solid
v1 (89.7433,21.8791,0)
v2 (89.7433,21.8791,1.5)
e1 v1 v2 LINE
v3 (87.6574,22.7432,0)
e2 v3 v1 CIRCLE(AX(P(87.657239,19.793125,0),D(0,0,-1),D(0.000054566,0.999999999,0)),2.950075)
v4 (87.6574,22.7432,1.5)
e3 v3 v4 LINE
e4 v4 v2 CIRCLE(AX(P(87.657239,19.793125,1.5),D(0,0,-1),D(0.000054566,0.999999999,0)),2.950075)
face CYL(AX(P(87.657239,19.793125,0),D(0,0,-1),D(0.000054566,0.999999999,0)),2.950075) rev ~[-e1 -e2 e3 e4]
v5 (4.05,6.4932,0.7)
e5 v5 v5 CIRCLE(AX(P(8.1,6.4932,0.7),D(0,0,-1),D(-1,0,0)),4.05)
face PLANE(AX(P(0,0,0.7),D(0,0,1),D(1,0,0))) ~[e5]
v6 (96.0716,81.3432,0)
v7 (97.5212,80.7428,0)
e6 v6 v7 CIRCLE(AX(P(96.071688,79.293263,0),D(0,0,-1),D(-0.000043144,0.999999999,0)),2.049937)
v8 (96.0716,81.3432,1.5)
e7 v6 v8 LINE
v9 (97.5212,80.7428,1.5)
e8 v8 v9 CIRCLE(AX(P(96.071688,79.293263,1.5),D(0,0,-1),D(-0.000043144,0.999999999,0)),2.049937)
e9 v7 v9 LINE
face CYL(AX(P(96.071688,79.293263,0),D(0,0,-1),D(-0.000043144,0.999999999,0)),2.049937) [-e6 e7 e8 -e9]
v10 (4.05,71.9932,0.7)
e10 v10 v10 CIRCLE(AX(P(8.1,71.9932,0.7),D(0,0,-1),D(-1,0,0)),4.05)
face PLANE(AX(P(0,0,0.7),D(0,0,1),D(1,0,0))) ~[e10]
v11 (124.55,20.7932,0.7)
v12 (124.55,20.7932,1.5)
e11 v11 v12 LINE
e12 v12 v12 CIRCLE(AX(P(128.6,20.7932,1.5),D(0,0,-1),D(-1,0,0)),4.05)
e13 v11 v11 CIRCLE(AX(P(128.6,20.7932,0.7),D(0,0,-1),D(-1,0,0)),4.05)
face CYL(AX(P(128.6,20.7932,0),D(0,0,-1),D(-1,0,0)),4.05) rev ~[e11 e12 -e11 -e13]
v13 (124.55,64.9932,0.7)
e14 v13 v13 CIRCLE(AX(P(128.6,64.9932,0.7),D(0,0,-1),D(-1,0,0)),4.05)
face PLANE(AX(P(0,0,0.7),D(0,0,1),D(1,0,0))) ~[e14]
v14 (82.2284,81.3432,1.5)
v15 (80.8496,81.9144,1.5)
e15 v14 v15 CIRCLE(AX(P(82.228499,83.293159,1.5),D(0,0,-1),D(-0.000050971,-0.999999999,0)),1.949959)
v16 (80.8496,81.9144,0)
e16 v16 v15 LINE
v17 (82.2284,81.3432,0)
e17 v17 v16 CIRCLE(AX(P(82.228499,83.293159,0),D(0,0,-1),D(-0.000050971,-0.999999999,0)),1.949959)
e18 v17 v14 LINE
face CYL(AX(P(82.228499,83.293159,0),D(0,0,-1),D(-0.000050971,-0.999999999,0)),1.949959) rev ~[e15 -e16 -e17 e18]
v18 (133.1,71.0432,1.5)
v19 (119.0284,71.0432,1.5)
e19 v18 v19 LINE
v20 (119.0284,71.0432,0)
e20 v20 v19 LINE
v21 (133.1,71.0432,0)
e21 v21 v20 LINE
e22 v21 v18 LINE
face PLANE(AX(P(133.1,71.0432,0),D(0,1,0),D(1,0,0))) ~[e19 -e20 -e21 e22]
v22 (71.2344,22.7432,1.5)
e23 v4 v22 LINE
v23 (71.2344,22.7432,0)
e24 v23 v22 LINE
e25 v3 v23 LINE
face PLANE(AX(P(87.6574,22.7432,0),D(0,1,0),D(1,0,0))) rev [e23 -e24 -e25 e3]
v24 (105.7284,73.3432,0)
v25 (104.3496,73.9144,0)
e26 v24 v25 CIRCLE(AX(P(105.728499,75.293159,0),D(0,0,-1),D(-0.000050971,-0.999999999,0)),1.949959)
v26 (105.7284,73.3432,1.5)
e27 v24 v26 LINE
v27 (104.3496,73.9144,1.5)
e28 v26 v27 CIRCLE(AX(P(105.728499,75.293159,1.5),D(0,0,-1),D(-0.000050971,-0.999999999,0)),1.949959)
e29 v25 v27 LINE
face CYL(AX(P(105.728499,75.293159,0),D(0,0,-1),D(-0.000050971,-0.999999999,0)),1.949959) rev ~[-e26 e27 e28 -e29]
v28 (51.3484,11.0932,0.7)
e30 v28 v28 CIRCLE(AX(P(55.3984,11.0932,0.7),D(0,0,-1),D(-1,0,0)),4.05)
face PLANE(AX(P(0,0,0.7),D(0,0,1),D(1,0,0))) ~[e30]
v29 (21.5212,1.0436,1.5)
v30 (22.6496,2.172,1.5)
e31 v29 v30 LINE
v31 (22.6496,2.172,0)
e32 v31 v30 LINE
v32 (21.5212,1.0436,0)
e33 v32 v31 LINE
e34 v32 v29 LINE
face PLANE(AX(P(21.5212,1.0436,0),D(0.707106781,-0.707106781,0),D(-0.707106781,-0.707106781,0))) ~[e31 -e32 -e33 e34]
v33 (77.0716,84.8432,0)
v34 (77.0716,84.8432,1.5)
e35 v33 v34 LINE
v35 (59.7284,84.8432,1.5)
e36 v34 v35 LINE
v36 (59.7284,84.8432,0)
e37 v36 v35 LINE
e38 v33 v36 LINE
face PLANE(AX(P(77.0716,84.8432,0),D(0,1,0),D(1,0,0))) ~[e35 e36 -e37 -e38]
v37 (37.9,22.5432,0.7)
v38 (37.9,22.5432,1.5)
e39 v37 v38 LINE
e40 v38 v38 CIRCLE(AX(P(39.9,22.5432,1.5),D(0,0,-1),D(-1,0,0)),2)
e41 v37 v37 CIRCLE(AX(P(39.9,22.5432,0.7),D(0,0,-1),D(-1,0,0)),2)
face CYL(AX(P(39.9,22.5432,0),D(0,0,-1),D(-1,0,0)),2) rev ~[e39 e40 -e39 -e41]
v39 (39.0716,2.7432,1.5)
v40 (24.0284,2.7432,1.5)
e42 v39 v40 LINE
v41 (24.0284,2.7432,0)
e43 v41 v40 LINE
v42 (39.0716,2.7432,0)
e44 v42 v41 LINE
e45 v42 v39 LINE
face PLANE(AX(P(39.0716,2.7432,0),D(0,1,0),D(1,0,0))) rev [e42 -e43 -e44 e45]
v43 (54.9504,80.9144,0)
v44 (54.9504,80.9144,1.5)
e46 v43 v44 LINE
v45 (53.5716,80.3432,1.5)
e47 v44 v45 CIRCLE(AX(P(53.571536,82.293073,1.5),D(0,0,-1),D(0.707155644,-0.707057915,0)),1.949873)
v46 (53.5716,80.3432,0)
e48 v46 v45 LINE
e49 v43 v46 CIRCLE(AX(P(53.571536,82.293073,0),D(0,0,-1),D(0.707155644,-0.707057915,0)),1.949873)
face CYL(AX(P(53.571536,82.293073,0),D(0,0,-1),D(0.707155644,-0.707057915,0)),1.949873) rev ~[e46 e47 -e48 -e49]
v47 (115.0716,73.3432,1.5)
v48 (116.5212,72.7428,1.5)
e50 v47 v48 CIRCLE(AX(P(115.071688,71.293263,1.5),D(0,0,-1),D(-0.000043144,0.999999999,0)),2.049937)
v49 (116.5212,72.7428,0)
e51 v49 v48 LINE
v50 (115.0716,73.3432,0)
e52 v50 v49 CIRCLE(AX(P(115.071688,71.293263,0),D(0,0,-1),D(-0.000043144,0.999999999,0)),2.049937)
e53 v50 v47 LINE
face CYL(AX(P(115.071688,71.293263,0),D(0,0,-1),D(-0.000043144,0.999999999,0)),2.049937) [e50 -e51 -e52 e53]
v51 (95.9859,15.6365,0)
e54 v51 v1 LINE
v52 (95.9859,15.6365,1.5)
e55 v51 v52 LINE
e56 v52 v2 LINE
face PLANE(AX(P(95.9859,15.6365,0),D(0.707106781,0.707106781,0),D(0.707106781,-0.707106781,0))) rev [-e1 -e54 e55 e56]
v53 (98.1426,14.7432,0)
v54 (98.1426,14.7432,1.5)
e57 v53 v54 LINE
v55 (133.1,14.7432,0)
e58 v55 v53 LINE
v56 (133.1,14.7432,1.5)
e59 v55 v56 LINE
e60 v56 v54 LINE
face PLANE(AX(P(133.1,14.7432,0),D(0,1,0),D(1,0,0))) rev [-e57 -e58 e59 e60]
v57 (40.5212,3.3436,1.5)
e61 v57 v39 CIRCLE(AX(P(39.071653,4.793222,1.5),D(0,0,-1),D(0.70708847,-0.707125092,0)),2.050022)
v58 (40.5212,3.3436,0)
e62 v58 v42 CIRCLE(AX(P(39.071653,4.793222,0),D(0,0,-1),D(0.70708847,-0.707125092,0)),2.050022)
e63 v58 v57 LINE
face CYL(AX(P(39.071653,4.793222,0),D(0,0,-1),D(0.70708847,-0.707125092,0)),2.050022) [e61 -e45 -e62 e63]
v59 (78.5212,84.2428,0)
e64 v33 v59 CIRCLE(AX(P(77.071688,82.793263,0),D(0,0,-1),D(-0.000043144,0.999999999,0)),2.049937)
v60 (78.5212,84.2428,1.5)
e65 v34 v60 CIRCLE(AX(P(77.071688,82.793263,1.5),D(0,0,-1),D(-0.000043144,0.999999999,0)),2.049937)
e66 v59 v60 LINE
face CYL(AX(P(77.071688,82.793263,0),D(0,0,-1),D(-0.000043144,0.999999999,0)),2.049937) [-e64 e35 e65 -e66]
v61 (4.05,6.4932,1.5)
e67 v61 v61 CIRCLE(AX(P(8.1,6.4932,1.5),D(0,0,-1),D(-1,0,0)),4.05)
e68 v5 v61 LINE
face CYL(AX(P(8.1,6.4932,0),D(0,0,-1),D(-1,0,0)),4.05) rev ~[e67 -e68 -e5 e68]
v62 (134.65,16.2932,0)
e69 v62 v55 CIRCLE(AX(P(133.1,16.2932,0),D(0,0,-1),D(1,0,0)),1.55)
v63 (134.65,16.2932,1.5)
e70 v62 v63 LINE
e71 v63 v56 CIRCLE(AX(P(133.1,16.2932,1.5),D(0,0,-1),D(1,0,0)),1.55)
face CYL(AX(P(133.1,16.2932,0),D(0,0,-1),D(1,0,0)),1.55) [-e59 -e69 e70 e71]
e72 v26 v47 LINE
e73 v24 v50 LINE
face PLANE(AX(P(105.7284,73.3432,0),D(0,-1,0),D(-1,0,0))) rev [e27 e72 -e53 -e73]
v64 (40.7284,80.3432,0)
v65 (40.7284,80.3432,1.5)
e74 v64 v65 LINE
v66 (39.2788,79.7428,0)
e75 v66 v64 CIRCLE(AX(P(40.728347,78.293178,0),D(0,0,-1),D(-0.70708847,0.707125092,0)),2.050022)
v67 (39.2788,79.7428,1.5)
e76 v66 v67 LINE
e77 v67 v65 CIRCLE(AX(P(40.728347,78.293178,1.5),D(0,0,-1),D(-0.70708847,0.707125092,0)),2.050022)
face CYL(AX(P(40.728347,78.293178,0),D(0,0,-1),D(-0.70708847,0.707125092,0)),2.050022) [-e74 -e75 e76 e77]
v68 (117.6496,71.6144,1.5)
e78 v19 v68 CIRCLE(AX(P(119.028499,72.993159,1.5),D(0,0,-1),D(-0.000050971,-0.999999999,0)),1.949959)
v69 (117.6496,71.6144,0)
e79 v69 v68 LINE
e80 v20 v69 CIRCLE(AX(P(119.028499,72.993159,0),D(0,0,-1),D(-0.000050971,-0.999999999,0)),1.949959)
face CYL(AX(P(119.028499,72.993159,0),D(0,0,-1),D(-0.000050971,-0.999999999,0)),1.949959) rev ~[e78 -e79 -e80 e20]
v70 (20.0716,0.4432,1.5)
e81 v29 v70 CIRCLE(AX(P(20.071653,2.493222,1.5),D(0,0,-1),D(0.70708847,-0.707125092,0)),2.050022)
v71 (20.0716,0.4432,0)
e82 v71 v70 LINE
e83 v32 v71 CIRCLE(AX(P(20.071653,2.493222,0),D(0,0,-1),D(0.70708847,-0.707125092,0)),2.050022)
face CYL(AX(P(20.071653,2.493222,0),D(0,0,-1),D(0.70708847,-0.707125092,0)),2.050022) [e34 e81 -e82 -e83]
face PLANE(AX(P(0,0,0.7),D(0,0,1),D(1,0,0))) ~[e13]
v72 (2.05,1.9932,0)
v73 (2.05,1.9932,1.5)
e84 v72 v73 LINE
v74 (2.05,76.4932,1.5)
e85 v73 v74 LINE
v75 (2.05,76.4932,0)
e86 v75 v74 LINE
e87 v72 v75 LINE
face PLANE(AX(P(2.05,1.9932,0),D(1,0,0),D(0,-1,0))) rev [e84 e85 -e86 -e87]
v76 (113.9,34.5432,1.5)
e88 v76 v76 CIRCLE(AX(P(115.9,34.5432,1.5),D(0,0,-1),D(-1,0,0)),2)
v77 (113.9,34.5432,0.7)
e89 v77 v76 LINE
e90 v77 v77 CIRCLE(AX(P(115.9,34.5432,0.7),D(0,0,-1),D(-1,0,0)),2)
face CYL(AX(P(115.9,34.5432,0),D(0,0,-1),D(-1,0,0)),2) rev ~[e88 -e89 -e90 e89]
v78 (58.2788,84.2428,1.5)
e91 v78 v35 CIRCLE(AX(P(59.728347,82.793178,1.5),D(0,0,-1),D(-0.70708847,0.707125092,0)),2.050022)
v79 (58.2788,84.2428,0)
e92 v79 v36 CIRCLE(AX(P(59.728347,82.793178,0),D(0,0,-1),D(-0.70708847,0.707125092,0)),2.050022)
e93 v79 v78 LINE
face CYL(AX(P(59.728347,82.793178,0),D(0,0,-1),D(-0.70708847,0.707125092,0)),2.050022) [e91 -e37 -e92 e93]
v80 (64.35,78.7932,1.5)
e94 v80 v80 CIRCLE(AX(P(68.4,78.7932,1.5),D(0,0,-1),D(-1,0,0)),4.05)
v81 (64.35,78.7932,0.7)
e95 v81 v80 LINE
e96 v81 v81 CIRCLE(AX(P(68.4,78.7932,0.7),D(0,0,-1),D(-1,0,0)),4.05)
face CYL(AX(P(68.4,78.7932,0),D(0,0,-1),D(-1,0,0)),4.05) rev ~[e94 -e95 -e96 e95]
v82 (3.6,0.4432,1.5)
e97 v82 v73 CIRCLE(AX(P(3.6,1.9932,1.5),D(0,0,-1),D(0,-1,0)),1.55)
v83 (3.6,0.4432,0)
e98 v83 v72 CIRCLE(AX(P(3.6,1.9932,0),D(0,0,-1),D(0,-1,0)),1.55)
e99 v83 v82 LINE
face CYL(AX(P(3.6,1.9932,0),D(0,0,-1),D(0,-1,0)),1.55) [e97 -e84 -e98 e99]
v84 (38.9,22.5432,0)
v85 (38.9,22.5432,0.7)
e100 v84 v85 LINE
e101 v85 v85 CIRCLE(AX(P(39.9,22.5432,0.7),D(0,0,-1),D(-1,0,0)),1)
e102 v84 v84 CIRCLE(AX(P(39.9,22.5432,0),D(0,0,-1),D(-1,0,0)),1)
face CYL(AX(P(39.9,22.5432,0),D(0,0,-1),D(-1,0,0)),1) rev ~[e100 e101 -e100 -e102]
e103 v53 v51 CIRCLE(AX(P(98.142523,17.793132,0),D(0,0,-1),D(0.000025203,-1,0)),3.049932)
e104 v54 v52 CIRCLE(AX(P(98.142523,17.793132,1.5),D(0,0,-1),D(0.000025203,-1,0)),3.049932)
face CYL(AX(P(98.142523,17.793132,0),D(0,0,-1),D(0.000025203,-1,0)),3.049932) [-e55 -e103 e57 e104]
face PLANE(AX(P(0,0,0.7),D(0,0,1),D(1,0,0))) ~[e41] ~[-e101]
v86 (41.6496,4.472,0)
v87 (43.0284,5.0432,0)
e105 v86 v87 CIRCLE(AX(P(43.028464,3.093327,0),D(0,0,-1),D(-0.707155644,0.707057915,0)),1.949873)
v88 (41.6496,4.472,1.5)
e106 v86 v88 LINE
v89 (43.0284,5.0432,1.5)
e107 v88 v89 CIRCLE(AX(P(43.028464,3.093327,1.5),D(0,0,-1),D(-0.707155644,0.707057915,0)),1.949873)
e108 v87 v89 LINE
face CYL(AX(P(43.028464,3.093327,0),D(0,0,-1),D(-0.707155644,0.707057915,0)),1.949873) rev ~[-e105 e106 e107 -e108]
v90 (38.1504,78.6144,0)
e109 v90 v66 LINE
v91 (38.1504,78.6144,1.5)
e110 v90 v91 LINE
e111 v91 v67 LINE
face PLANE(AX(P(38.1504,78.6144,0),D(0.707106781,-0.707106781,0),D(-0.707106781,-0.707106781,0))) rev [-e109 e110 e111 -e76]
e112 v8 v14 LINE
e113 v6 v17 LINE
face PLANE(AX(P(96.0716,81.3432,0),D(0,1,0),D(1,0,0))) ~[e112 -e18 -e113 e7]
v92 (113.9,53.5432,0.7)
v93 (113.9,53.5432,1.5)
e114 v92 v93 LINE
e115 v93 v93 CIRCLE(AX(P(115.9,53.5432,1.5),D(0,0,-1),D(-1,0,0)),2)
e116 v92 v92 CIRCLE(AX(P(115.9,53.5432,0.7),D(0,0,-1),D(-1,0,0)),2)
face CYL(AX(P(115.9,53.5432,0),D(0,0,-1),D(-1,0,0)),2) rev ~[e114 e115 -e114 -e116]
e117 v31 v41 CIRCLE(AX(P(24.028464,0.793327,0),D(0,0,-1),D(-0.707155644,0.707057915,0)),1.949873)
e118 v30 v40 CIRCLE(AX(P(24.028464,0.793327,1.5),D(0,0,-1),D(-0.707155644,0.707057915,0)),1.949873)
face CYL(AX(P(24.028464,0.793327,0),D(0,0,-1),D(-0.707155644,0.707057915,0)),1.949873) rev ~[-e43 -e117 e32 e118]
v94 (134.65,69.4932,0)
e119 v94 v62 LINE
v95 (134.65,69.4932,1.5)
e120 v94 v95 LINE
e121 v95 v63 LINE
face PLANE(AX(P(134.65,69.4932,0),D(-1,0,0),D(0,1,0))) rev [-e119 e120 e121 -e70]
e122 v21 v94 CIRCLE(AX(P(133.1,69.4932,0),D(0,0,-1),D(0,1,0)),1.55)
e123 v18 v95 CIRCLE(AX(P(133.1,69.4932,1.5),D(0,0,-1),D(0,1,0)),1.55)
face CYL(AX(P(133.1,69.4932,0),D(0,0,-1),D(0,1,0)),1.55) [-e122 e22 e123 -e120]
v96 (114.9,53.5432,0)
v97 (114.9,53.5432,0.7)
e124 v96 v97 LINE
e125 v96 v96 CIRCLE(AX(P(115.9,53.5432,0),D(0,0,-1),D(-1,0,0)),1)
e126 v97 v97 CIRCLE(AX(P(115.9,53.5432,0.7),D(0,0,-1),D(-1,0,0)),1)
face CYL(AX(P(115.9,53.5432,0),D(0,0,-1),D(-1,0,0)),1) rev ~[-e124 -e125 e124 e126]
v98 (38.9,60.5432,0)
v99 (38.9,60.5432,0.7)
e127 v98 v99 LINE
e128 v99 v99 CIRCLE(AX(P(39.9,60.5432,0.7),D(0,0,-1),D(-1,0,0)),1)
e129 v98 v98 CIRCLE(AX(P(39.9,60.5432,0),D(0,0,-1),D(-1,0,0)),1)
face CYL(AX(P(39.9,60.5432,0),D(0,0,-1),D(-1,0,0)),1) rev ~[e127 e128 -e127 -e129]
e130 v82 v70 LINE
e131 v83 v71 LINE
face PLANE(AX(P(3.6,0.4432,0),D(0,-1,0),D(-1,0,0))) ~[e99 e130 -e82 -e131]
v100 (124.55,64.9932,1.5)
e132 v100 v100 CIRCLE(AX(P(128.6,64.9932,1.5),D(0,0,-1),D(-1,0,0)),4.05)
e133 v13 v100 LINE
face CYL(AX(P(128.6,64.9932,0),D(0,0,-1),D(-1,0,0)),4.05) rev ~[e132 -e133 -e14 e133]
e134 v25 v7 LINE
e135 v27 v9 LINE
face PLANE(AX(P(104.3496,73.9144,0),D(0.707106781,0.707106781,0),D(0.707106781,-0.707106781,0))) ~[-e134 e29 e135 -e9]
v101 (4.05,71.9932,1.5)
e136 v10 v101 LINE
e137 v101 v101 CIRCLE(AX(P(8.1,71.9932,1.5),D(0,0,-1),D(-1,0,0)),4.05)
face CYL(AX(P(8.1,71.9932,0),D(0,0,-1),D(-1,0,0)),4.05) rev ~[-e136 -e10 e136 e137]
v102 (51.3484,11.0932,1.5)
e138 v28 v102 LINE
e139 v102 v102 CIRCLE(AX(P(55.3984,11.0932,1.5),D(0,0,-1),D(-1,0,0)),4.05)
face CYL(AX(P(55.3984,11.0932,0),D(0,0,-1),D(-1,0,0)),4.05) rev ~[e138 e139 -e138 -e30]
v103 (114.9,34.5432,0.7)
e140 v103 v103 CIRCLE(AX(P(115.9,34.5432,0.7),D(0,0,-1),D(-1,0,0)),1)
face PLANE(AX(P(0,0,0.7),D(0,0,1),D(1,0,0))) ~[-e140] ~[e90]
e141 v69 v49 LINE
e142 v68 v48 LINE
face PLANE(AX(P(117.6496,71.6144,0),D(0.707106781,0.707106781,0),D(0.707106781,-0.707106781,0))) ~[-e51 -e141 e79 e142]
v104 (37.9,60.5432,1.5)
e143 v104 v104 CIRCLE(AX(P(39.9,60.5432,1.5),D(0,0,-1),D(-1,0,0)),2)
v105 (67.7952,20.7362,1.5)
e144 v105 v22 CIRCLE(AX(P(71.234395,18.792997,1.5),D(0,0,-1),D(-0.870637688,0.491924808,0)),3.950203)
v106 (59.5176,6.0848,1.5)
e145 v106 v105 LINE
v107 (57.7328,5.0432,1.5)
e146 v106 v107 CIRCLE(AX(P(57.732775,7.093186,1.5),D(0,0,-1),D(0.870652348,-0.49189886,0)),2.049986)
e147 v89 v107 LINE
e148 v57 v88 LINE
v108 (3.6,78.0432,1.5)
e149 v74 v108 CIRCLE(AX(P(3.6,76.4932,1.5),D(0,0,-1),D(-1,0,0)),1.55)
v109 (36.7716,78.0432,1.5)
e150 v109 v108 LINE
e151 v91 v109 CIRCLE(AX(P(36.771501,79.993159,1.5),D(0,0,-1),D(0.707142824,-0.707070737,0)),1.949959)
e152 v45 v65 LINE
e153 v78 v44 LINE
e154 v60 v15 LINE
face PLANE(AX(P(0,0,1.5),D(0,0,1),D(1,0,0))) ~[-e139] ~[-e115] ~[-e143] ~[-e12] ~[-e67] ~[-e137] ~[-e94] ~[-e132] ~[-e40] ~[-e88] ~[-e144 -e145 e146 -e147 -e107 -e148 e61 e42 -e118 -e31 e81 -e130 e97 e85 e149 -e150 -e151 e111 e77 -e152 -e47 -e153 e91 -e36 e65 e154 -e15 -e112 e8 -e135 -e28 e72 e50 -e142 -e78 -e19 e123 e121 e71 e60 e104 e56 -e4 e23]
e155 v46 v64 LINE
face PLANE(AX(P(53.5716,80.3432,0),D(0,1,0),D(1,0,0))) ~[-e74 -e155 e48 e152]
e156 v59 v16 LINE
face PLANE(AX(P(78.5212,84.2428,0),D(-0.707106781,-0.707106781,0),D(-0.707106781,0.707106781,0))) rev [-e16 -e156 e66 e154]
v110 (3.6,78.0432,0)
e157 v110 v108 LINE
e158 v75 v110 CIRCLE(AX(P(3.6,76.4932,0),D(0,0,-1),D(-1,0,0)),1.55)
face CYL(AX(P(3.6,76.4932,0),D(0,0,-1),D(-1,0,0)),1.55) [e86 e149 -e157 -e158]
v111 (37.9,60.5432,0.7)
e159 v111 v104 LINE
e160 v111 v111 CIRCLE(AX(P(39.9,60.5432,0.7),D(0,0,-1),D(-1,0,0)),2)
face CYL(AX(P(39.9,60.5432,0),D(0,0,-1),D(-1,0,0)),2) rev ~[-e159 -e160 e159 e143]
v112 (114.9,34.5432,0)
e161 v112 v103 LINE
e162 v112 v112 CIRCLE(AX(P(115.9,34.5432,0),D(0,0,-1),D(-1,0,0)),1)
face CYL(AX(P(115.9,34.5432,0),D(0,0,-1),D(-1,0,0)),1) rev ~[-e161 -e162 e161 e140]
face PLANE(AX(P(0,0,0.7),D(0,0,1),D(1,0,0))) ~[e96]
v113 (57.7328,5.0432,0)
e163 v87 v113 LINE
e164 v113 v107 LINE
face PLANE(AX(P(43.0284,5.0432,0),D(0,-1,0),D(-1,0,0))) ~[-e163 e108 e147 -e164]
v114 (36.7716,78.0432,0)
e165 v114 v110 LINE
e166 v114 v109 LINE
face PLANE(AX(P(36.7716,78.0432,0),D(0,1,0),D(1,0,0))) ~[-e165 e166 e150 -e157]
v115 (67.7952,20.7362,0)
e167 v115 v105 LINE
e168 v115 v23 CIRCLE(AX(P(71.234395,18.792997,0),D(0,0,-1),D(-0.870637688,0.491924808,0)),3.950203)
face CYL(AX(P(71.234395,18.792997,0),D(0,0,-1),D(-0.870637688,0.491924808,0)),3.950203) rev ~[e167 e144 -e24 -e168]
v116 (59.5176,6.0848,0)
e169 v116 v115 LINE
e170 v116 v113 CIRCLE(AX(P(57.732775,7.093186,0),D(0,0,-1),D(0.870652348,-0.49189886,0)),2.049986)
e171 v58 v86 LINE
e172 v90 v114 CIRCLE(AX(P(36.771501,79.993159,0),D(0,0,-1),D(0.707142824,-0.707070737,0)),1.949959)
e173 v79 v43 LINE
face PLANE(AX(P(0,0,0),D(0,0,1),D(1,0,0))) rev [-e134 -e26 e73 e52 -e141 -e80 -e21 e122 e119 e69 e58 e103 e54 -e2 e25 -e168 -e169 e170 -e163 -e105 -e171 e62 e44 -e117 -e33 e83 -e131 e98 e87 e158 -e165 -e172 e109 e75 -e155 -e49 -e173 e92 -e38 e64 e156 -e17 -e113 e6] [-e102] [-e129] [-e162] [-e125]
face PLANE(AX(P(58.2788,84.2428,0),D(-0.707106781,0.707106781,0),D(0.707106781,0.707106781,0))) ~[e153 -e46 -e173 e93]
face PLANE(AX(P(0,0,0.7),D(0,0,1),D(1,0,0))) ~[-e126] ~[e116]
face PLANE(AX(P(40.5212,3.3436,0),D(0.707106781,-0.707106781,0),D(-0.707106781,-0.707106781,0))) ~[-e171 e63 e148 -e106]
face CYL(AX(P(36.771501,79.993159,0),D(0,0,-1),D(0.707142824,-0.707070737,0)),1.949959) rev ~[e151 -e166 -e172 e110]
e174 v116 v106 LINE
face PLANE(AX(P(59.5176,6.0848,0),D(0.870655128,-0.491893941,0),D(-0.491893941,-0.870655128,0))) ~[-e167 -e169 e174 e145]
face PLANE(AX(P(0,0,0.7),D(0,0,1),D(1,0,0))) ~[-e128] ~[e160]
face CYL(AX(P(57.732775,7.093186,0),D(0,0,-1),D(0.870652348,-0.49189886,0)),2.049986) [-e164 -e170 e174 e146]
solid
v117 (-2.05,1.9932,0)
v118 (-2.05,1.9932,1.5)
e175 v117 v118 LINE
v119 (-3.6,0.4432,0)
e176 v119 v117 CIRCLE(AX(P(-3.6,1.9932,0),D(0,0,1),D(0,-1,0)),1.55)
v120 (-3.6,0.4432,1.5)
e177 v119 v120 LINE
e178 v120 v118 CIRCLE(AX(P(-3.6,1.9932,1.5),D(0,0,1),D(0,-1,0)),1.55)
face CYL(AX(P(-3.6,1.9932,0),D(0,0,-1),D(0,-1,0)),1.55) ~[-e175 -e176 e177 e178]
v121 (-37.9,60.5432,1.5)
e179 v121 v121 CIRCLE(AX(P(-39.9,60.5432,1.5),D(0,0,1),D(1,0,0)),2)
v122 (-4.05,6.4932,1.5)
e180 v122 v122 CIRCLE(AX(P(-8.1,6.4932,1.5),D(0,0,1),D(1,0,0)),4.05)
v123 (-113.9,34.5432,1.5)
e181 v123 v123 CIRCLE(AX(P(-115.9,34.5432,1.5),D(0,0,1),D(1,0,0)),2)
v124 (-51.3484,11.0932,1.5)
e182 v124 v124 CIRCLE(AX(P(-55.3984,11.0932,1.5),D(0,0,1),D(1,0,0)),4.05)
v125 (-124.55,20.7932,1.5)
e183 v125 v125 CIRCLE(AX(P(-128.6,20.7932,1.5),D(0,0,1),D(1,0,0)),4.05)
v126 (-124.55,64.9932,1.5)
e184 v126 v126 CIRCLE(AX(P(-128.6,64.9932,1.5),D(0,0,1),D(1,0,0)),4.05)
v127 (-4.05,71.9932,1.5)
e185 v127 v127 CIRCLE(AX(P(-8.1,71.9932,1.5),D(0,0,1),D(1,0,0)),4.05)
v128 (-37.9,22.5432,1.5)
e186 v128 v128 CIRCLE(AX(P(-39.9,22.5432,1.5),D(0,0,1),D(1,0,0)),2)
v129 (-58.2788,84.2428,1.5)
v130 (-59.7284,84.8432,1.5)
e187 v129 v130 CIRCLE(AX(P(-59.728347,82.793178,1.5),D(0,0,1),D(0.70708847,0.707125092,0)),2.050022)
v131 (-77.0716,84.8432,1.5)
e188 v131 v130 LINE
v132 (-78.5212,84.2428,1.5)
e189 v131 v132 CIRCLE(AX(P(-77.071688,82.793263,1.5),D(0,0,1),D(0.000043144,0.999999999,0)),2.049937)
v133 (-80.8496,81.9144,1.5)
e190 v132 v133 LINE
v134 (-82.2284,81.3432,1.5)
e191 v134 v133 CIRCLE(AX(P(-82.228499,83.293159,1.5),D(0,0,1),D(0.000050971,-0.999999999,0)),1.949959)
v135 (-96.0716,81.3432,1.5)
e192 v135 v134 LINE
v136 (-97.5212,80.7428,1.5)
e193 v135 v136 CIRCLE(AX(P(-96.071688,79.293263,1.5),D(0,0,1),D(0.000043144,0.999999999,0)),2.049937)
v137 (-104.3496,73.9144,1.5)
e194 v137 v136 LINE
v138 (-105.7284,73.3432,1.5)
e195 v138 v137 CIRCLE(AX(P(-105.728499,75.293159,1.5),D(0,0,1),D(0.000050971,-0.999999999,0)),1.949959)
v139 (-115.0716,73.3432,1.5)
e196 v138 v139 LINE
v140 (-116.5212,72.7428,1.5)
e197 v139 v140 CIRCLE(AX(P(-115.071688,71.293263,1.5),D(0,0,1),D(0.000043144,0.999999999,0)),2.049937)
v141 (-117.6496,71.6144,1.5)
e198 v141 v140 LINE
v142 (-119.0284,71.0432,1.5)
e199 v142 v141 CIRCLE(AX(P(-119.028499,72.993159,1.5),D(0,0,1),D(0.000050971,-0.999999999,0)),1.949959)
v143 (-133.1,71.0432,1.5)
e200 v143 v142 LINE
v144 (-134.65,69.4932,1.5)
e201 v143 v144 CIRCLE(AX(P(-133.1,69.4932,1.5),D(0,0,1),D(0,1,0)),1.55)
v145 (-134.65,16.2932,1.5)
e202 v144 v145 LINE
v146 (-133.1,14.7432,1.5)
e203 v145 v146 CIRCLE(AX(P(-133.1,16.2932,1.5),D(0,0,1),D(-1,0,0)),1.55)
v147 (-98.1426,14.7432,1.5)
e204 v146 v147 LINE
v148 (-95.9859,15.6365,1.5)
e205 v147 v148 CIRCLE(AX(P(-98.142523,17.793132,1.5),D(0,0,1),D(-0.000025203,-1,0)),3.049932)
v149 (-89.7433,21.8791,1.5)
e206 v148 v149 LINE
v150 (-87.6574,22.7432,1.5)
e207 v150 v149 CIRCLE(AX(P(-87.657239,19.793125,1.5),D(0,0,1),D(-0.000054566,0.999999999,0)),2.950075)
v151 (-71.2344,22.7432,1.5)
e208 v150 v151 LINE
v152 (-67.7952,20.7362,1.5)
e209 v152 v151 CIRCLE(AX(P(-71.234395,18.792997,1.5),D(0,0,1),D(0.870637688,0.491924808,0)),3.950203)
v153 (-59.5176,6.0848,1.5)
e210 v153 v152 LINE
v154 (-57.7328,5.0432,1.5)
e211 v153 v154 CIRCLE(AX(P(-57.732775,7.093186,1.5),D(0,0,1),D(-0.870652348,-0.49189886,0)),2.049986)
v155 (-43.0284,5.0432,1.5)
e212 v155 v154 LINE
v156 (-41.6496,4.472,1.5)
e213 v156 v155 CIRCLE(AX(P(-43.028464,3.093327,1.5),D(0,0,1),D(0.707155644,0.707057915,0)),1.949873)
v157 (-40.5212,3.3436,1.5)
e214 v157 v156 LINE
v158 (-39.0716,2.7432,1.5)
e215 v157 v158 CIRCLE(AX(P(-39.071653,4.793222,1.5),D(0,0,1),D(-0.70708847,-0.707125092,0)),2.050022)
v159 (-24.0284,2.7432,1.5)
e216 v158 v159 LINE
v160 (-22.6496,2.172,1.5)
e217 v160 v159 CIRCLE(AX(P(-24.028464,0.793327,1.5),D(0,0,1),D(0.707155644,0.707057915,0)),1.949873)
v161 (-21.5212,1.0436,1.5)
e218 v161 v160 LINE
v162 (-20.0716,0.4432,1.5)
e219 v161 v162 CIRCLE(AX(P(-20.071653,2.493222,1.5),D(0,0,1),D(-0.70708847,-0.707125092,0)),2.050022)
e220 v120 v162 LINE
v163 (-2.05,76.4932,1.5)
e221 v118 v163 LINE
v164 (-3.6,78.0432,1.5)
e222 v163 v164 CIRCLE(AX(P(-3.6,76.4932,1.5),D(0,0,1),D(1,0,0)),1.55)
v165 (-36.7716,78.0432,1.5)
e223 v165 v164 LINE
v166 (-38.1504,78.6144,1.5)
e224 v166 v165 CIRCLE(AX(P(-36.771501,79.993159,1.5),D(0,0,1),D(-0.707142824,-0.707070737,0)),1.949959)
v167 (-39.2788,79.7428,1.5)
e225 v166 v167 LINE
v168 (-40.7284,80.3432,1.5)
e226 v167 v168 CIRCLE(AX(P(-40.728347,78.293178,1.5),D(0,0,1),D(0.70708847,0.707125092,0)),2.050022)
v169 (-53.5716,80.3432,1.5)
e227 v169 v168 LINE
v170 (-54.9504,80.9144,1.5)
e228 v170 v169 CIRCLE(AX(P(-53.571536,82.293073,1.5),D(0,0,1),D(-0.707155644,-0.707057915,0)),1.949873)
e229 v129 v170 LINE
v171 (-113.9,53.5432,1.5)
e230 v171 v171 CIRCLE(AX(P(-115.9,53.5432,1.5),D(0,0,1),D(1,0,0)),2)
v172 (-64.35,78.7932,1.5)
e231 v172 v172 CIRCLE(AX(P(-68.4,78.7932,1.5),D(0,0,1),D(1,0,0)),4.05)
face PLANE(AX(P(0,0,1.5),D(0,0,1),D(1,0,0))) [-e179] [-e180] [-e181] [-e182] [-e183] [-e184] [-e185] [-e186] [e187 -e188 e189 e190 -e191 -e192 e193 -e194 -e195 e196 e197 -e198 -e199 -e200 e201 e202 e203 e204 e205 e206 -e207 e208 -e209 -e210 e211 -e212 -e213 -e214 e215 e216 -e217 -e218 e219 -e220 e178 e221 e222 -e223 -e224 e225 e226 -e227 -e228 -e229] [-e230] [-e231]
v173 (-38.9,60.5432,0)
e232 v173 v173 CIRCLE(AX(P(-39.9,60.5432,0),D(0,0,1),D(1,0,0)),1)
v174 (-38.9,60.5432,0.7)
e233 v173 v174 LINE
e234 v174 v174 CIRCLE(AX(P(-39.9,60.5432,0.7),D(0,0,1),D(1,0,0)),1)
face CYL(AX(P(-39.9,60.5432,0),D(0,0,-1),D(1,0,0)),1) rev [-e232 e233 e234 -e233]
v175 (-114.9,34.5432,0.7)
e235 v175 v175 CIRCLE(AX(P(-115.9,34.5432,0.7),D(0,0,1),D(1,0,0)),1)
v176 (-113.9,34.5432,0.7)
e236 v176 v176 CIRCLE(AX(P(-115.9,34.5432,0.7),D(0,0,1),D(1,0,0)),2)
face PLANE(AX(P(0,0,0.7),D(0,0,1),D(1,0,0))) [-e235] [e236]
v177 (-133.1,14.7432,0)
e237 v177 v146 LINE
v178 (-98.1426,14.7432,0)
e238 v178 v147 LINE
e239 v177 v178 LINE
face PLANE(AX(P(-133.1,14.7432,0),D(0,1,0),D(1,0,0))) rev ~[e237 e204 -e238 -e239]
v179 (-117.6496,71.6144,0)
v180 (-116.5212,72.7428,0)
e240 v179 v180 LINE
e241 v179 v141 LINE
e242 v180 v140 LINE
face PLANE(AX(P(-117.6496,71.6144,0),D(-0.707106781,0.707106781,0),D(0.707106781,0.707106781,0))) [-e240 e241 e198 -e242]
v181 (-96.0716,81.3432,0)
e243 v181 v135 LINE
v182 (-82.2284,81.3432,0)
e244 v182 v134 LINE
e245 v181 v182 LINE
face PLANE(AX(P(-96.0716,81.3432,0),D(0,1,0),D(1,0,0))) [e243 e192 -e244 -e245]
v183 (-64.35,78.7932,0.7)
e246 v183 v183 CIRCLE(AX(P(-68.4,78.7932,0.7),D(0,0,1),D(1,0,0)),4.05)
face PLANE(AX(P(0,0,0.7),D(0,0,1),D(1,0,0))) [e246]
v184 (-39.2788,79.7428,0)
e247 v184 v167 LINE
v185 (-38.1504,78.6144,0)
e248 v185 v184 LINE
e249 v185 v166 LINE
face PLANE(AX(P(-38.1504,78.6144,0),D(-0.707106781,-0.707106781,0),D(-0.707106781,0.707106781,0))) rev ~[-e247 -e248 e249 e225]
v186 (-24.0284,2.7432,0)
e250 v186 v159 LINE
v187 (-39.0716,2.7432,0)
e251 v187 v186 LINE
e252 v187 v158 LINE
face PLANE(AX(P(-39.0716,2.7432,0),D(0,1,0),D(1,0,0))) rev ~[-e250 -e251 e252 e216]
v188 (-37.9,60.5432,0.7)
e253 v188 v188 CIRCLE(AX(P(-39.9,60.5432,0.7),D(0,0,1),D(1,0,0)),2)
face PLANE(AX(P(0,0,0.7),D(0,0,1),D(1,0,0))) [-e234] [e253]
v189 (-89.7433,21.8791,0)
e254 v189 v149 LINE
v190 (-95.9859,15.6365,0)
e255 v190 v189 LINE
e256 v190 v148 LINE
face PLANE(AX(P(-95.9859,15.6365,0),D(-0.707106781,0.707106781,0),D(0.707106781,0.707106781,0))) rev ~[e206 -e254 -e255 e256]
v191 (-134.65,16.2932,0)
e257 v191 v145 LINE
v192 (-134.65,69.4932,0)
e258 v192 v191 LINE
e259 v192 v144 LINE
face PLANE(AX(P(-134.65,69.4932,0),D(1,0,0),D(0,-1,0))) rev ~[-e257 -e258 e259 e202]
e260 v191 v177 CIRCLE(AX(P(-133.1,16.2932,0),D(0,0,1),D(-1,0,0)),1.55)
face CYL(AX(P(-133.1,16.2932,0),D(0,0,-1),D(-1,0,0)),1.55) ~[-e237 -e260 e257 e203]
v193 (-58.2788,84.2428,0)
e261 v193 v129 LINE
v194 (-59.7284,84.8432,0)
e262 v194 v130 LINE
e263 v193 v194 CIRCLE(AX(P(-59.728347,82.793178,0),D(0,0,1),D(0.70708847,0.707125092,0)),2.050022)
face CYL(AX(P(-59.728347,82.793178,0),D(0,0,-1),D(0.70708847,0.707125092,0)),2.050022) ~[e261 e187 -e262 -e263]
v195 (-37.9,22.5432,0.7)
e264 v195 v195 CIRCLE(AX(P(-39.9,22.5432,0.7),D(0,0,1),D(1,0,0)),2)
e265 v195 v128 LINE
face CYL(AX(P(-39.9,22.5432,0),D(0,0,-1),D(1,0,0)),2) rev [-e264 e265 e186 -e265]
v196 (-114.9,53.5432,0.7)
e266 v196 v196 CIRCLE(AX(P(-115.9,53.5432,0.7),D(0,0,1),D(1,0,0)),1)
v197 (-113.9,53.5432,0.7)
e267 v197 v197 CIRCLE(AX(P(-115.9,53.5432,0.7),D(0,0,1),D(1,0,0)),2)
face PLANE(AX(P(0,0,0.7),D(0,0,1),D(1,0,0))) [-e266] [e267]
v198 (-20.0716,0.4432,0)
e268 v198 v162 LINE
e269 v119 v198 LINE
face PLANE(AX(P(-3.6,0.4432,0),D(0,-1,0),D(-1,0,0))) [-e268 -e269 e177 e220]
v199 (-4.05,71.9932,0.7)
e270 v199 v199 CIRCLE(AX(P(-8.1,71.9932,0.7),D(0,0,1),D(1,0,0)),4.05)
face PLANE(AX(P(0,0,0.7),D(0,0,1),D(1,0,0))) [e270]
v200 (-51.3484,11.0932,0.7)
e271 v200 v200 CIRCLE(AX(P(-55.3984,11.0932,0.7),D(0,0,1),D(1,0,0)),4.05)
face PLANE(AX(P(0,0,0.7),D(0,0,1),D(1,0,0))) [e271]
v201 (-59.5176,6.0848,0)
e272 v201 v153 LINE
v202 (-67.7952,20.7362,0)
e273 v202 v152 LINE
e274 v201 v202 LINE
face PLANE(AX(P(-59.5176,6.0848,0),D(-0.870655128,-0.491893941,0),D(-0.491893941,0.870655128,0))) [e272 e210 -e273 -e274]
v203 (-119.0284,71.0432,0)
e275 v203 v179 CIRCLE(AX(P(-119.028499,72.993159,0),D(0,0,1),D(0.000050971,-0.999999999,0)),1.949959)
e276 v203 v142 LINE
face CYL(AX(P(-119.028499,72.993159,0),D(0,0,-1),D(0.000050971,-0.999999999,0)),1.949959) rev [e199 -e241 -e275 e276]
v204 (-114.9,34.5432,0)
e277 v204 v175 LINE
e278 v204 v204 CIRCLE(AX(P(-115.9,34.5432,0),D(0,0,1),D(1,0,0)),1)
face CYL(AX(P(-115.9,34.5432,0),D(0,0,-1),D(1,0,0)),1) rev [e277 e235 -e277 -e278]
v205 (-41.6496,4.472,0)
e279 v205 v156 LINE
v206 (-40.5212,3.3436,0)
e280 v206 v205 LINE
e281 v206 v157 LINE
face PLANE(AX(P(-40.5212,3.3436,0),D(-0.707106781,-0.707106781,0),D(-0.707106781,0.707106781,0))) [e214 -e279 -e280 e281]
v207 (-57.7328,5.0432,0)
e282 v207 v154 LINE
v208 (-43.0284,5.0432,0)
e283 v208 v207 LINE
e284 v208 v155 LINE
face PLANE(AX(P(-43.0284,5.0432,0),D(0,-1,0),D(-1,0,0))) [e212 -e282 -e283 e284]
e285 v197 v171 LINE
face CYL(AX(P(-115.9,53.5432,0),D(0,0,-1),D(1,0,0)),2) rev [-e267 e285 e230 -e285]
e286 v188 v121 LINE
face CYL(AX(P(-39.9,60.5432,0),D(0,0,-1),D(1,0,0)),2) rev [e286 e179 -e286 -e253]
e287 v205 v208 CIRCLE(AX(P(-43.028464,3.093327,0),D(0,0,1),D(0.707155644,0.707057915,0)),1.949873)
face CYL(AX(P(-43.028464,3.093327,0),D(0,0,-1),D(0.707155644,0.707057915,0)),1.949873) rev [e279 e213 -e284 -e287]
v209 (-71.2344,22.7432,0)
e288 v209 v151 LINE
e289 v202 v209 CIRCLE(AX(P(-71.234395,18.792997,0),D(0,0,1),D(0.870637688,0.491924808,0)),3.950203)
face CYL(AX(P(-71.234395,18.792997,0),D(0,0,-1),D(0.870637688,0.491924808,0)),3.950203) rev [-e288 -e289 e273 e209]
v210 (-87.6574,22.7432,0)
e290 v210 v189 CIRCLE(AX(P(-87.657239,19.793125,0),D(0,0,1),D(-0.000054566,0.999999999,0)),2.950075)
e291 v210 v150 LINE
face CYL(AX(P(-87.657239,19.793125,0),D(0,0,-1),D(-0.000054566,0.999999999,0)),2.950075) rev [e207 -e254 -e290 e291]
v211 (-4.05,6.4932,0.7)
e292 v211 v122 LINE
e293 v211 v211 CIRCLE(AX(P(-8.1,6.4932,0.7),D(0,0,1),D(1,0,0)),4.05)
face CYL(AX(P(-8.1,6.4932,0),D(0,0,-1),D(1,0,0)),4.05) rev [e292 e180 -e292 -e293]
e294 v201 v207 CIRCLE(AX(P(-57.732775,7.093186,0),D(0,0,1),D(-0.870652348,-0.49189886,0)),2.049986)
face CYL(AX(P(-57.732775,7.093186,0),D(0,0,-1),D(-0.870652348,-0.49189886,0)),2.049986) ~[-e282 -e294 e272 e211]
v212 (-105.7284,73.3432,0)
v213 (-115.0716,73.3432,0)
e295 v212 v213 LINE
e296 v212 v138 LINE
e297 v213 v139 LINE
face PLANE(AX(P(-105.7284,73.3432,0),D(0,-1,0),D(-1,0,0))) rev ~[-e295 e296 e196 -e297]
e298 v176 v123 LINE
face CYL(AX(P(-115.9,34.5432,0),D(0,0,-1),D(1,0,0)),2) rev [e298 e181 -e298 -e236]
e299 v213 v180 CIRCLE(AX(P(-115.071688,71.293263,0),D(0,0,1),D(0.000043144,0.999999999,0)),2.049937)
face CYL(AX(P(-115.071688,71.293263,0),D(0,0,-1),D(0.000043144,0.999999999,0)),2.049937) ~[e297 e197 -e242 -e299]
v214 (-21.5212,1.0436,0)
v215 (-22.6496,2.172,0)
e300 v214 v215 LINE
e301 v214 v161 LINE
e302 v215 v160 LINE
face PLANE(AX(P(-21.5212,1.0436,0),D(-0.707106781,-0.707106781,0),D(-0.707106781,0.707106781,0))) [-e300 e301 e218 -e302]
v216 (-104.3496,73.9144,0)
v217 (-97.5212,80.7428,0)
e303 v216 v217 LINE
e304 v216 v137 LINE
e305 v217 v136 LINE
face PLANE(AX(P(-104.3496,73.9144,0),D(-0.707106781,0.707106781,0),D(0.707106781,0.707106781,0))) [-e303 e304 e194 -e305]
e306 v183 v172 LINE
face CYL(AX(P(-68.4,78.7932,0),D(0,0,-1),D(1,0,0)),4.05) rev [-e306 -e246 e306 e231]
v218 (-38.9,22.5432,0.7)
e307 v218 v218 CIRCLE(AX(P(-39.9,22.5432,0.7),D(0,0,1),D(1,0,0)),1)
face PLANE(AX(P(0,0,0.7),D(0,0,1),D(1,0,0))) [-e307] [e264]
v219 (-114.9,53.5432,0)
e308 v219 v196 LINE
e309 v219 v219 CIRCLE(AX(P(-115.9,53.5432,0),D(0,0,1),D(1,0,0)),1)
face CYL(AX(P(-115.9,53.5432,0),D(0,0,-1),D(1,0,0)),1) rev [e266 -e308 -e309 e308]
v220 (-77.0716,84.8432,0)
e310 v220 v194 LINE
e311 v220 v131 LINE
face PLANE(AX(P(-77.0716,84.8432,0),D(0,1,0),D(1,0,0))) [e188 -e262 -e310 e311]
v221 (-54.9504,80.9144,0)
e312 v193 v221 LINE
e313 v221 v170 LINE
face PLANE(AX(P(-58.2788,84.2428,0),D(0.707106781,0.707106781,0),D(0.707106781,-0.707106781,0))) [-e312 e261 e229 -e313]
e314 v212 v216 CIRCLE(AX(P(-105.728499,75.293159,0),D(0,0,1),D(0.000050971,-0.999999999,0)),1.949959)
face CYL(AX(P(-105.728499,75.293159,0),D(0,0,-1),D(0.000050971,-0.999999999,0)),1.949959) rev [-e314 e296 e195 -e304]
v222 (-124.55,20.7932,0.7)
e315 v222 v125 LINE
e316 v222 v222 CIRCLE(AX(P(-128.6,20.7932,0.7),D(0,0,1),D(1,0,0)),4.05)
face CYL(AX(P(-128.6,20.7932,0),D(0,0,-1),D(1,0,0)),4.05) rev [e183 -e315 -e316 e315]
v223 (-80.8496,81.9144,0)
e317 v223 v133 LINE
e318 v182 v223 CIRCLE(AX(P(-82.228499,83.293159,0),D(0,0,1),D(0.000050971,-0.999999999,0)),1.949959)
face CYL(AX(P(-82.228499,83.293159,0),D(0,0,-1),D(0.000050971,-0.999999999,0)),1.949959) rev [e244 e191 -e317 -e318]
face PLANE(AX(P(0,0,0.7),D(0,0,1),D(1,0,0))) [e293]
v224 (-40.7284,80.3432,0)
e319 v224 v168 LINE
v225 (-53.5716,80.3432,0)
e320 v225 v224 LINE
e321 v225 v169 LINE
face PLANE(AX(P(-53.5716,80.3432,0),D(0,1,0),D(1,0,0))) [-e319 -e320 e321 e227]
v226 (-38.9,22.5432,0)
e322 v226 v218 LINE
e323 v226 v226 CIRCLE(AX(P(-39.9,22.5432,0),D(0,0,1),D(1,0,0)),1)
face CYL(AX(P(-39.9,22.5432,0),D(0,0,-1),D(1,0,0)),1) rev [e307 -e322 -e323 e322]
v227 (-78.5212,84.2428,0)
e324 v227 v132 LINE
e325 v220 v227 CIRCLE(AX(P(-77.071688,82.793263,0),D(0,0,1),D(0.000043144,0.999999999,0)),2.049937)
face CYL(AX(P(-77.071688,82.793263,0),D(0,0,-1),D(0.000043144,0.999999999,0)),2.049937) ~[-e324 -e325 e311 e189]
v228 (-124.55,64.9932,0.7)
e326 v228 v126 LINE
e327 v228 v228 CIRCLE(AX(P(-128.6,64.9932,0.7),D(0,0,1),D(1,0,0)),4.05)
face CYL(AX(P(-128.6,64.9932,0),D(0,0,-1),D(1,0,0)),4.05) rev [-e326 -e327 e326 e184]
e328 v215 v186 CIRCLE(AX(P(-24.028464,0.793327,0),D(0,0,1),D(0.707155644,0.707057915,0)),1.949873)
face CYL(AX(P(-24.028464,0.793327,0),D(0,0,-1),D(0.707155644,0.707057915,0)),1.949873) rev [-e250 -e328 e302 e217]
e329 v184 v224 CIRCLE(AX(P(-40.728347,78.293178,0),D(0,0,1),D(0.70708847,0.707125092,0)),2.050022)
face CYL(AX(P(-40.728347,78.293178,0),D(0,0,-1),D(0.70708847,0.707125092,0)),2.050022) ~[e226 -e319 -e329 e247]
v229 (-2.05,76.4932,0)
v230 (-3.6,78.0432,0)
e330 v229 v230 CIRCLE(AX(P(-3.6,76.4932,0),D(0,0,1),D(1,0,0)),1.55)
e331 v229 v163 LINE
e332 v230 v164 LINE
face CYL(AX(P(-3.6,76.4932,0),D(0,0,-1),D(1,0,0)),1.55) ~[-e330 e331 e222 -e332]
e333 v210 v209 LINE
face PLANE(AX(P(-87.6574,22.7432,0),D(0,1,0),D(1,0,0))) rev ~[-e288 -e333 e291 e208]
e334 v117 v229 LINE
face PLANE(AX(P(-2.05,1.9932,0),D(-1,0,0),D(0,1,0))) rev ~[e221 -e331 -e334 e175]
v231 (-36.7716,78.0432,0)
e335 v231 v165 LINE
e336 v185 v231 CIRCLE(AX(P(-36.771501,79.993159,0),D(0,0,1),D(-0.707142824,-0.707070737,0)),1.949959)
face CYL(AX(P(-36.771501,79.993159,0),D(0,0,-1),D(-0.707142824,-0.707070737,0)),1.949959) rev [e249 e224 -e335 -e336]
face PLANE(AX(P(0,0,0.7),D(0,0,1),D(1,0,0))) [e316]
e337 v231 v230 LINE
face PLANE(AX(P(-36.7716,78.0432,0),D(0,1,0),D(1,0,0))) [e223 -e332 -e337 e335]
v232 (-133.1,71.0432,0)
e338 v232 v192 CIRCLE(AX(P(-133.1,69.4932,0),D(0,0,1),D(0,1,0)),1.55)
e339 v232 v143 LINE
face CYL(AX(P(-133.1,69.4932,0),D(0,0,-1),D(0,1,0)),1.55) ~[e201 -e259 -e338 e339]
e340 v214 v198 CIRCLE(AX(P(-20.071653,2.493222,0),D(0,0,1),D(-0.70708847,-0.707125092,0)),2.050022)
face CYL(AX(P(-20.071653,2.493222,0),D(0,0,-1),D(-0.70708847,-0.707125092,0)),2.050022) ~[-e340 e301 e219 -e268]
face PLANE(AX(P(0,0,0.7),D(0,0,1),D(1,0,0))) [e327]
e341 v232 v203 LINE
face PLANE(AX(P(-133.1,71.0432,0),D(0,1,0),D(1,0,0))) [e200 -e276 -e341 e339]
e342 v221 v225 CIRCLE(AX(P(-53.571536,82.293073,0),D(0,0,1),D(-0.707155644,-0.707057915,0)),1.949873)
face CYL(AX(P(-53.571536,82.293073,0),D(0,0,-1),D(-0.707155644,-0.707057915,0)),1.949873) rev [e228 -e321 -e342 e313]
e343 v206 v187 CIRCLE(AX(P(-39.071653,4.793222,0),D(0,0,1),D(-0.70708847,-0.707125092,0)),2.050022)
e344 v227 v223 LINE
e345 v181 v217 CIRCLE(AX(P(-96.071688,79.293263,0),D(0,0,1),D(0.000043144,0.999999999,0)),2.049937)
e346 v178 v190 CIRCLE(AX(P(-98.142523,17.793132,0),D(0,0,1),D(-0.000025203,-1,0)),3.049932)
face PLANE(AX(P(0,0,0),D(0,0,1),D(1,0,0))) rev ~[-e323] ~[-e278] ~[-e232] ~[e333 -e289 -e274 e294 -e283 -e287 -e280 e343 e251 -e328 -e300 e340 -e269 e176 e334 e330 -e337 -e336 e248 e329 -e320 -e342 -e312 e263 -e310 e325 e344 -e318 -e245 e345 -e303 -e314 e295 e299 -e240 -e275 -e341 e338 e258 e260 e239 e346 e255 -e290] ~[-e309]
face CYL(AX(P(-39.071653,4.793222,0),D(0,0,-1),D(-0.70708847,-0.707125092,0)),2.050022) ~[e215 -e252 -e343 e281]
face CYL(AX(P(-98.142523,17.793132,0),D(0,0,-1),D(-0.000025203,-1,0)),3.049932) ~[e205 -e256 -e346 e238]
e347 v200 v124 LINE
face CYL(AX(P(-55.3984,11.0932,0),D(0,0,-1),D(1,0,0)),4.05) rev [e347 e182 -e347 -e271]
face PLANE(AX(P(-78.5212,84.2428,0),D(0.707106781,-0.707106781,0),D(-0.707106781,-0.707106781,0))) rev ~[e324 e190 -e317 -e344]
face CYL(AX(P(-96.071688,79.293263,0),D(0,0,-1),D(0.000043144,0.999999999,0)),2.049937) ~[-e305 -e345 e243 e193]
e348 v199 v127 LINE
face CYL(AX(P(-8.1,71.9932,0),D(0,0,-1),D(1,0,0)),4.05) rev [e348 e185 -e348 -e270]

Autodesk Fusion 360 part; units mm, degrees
sketch "mriya-bottom-plate" plane through (0, 0, 0) normal (0, 0, 1) x (1, 0, 0)
  line L0 (-96.0213, 15.6719) -> (-89.7787, 21.9145)
  line L1 (-21.4858, 1.079) -> (-22.6142, 2.2074)
  line L2 (-133.1, 14.7932) -> (-98.1426, 14.7932)
  line L3 (-39.0716, 2.7932) -> (-24.0284, 2.7932)
  line L4 (-3.6, 0.4932) -> (-20.0716, 0.4932)
  line L5 (-59.4741, 6.1094) -> (-67.7517, 20.7608)
  line L6 (-40.4858, 3.379) -> (-41.6142, 4.5074)
  line L7 (-117.6142, 71.579) -> (-116.4858, 72.7074)
  line L8 (-96.0716, 81.2932) -> (-82.2284, 81.2932)
  line L9 (-133.1, 70.9932) -> (-119.0284, 70.9932)
  line L10 (-87.6574, 22.7932) -> (-71.2344, 22.7932)
  line L11 (-43.0284, 5.0932) -> (-57.7328, 5.0932)
  line L12 (-104.3142, 73.879) -> (-97.4858, 80.7074)
  line L13 (-77.0716, 84.7932) -> (-59.7284, 84.7932)
  line L14 (-53.5716, 80.2932) -> (-40.7284, 80.2932)
  line L15 (-105.7284, 73.2932) -> (-115.0716, 73.2932)
  line L16 (-78.4858, 84.2074) -> (-80.8142, 81.879)
  line L17 (-58.3142, 84.2074) -> (-54.9858, 80.879)
  line L18 (-134.6, 69.4932) -> (-134.6, 16.2932)
  line L19 (-38.1858, 78.579) -> (-39.3142, 79.7074)
  circle A0 centre (-115.9, 53.5432) radius 1
  circle A1 centre (-115.9, 34.5432) radius 1
  circle A2 centre (-39.9, 22.5432) radius 1
  circle A3 centre (-39.9, 60.5432) radius 1
  arc A4 (-38.1858, 78.579) -> (-36.7716, 77.9932) centre (-36.7716, 79.9932) ccw
  arc A5 (-39.3142, 79.7074) -> (-40.7284, 80.2932) centre (-40.7284, 78.2932) ccw
  arc A6 (-54.9858, 80.879) -> (-53.5716, 80.2932) centre (-53.5716, 82.2931) ccw
  arc A7 (-58.3142, 84.2074) -> (-59.7284, 84.7932) centre (-59.7284, 82.7932) ccw
  arc A8 (-77.0716, 84.7932) -> (-78.4858, 84.2074) centre (-77.0716, 82.7933) ccw
  arc A9 (-82.2284, 81.2932) -> (-80.8142, 81.879) centre (-82.2284, 83.2932) ccw
  arc A10 (-96.0716, 81.2932) -> (-97.4858, 80.7074) centre (-96.0716, 79.2933) ccw
  arc A11 (-105.7284, 73.2932) -> (-104.3142, 73.879) centre (-105.7284, 75.2932) ccw
  arc A12 (-115.0716, 73.2932) -> (-116.4858, 72.7074) centre (-115.0716, 71.2933) ccw
  arc A13 (-119.0284, 70.9932) -> (-117.6142, 71.579) centre (-119.0284, 72.9932) ccw
  arc A14 (-133.1, 70.9932) -> (-134.6, 69.4932) centre (-133.1, 69.4932) ccw
  arc A15 (-134.6, 16.2932) -> (-133.1, 14.7932) centre (-133.1, 16.2932) ccw
  arc A16 (-98.1426, 14.7932) -> (-96.0213, 15.6719) centre (-98.1426, 17.7931) ccw
  arc A17 (-87.6574, 22.7932) -> (-89.7787, 21.9145) centre (-87.6573, 19.7931) ccw
  arc A18 (-67.7517, 20.7608) -> (-71.2344, 22.7932) centre (-71.2344, 18.793) ccw
  arc A19 (-59.4741, 6.1094) -> (-57.7328, 5.0932) centre (-57.7328, 7.0932) ccw
  arc A20 (-41.6142, 4.5074) -> (-43.0284, 5.0932) centre (-43.0284, 3.0933) ccw
  arc A21 (-40.4858, 3.379) -> (-39.0716, 2.7932) centre (-39.0716, 4.7932) ccw
  arc A22 (-22.6142, 2.2074) -> (-24.0284, 2.7932) centre (-24.0284, 0.7933) ccw
  arc A23 (-21.4858, 1.079) -> (-20.0716, 0.4932) centre (-20.0716, 2.4932) ccw
  arc A24 (-3.6, 0.4932) -> (-2.1, 1.9932) centre (-3.6, 1.9932) ccw
  line L20 (-2.1, 1.9932) -> (-2.1, 76.4932)
  line L21 (-36.7716, 77.9932) -> (-3.6, 77.9932)
  arc A25 (-2.1, 76.4932) -> (-3.6, 77.9932) centre (-3.6, 76.4932) ccw
  circle A26 centre (-115.9, 53.5432) radius 2
  circle A27 centre (-115.9, 34.5432) radius 2
  circle A28 centre (-39.9, 22.5432) radius 2
  circle A29 centre (-39.9, 60.5432) radius 2
  circle A30 centre (-128.6, 20.7932) radius 4.05
  circle A31 centre (-128.6, 64.9932) radius 4.05
  circle A32 centre (-68.4, 78.7932) radius 4.05
  circle A33 centre (-8.1, 71.9932) radius 4.05
  circle A34 centre (-8.1, 6.4932) radius 4.05
  circle A35 centre (-55.3984, 11.0932) radius 4.05
  arc A36 (-54.9504, 80.9144) -> (-53.5716, 80.3432) centre (-53.5716, 82.2931) ccw
  line L22 (-53.5716, 80.3432) -> (-40.7284, 80.3432)
  arc A37 (-39.2788, 79.7428) -> (-40.7284, 80.3432) centre (-40.7284, 78.2932) ccw
  line L23 (-38.1504, 78.6144) -> (-39.2788, 79.7428)
  arc A38 (-38.1504, 78.6144) -> (-36.7716, 78.0432) centre (-36.7716, 79.9932) ccw
  line L24 (-36.7716, 78.0432) -> (-3.6, 78.0432)
  arc A39 (-2.05, 76.4932) -> (-3.6, 78.0432) centre (-3.6, 76.4932) ccw
  line L25 (-2.05, 1.9932) -> (-2.05, 76.4932)
  arc A40 (-3.6, 0.4432) -> (-2.05, 1.9932) centre (-3.6, 1.9932) ccw
  line L26 (-3.6, 0.4432) -> (-20.0716, 0.4432)
  arc A41 (-21.5212, 1.0436) -> (-20.0716, 0.4432) centre (-20.0716, 2.4932) ccw
  line L27 (-21.5212, 1.0436) -> (-22.6496, 2.172)
  arc A42 (-22.6496, 2.172) -> (-24.0284, 2.7432) centre (-24.0284, 0.7933) ccw
  line L28 (-39.0716, 2.7432) -> (-24.0284, 2.7432)
  arc A43 (-40.5212, 3.3436) -> (-39.0716, 2.7432) centre (-39.0716, 4.7932) ccw
  line L29 (-40.5212, 3.3436) -> (-41.6496, 4.472)
  arc A44 (-41.6496, 4.472) -> (-43.0284, 5.0432) centre (-43.0284, 3.0933) ccw
  line L30 (-43.0284, 5.0432) -> (-57.7328, 5.0432)
  arc A45 (-59.5176, 6.0848) -> (-57.7328, 5.0432) centre (-57.7328, 7.0932) ccw
  line L31 (-59.5176, 6.0848) -> (-67.7952, 20.7362)
  arc A46 (-67.7952, 20.7362) -> (-71.2344, 22.7432) centre (-71.2344, 18.793) ccw
  line L32 (-87.6574, 22.7432) -> (-71.2344, 22.7432)
  arc A47 (-87.6574, 22.7432) -> (-89.7433, 21.8791) centre (-87.6573, 19.7931) ccw
  line L33 (-95.9859, 15.6365) -> (-89.7433, 21.8791)
  arc A48 (-98.1426, 14.7432) -> (-95.9859, 15.6365) centre (-98.1426, 17.7931) ccw
  line L34 (-133.1, 14.7432) -> (-98.1426, 14.7432)
  arc A49 (-134.65, 16.2932) -> (-133.1, 14.7432) centre (-133.1, 16.2932) ccw
  line L35 (-134.65, 69.4932) -> (-134.65, 16.2932)
  arc A50 (-133.1, 71.0432) -> (-134.65, 69.4932) centre (-133.1, 69.4932) ccw
  line L36 (-133.1, 71.0432) -> (-119.0284, 71.0432)
  arc A51 (-119.0284, 71.0432) -> (-117.6496, 71.6144) centre (-119.0284, 72.9932) ccw
  line L37 (-117.6496, 71.6144) -> (-116.5212, 72.7428)
  arc A52 (-115.0716, 73.3432) -> (-116.5212, 72.7428) centre (-115.0716, 71.2933) ccw
  line L38 (-105.7284, 73.3432) -> (-115.0716, 73.3432)
  arc A53 (-105.7284, 73.3432) -> (-104.3496, 73.9144) centre (-105.7284, 75.2932) ccw
  line L39 (-104.3496, 73.9144) -> (-97.5212, 80.7428)
  arc A54 (-96.0716, 81.3432) -> (-97.5212, 80.7428) centre (-96.0716, 79.2933) ccw
  line L40 (-96.0716, 81.3432) -> (-82.2284, 81.3432)
  arc A55 (-82.2284, 81.3432) -> (-80.8496, 81.9144) centre (-82.2284, 83.2932) ccw
  line L41 (-78.5212, 84.2428) -> (-80.8496, 81.9144)
  arc A56 (-77.0716, 84.8432) -> (-78.5212, 84.2428) centre (-77.0716, 82.7933) ccw
  line L42 (-77.0716, 84.8432) -> (-59.7284, 84.8432)
  arc A57 (-58.2788, 84.2428) -> (-59.7284, 84.8432) centre (-59.7284, 82.7932) ccw
  line L43 (-58.2788, 84.2428) -> (-54.9504, 80.9144)
  dimension "d1" = 2
  dimension "d2" = 2
  dimension "d4" = 2
  dimension "d5" = 2
  dimension "d15" = 4
  dimension "d16" = 4
  dimension "d17" = 4
  dimension "d18" = 4
  dimension "d19" = 8.1
  dimension "d20" = 8.1
  dimension "d21" = 8.1
  dimension "d22" = 8.1
  dimension "d23" = 8.1
  dimension "d24" = 8.1
  dimension "d25" = 6
  dimension "d26" = 6
  dimension "d27" = 6
  dimension "d28" = 6
  dimension "d29" = 6
  dimension "d30" = 6
  dimension "d31" = 6
  dimension "d32" = 6
  dimension "d33" = 6
  dimension "d34" = 6
  dimension "d35" = 6
  dimension "d42" = -0.05
extrude "Extrude1" add sketch "mriya-bottom-plate" along normal blind 1.5 contours L0 L1 L2 L3 L4 L5 L6 L7 L8 L9 L10 L11 L12 L13 L14 L15 L16 L17 L18 L19 A4 A5 A6 A7 A8 A9 A10 A11 A12 A13 A14 A15 A16 A17 A18 A19 A20 A21 A22 A23 A24 L20 L21 A25 | A36 L22 A37 L23 A38 L24 A39 L25 A40 L26 A41 L27 A42 L28 A43 L29 A44 L30 A45 L31 A46 L32 A47 L33 A48 L34 A49 L35 A50 L36 A51 L37 A52 L38 A53 L39 A54 L40 A55 L41 A56 L42 A57 L43 makes body 1
extrude "Extrude2" add sketch "mriya-bottom-plate" along normal blind 0.7 contours A26 | A27 | A28 | A29 | A30 | A31 | A32 | A33 | A34 | A35 bodies 1
mirror "Mirror1" about plane through (0, 0, 0) normal (1, 0, 0) of bodies 1 makes body 2
